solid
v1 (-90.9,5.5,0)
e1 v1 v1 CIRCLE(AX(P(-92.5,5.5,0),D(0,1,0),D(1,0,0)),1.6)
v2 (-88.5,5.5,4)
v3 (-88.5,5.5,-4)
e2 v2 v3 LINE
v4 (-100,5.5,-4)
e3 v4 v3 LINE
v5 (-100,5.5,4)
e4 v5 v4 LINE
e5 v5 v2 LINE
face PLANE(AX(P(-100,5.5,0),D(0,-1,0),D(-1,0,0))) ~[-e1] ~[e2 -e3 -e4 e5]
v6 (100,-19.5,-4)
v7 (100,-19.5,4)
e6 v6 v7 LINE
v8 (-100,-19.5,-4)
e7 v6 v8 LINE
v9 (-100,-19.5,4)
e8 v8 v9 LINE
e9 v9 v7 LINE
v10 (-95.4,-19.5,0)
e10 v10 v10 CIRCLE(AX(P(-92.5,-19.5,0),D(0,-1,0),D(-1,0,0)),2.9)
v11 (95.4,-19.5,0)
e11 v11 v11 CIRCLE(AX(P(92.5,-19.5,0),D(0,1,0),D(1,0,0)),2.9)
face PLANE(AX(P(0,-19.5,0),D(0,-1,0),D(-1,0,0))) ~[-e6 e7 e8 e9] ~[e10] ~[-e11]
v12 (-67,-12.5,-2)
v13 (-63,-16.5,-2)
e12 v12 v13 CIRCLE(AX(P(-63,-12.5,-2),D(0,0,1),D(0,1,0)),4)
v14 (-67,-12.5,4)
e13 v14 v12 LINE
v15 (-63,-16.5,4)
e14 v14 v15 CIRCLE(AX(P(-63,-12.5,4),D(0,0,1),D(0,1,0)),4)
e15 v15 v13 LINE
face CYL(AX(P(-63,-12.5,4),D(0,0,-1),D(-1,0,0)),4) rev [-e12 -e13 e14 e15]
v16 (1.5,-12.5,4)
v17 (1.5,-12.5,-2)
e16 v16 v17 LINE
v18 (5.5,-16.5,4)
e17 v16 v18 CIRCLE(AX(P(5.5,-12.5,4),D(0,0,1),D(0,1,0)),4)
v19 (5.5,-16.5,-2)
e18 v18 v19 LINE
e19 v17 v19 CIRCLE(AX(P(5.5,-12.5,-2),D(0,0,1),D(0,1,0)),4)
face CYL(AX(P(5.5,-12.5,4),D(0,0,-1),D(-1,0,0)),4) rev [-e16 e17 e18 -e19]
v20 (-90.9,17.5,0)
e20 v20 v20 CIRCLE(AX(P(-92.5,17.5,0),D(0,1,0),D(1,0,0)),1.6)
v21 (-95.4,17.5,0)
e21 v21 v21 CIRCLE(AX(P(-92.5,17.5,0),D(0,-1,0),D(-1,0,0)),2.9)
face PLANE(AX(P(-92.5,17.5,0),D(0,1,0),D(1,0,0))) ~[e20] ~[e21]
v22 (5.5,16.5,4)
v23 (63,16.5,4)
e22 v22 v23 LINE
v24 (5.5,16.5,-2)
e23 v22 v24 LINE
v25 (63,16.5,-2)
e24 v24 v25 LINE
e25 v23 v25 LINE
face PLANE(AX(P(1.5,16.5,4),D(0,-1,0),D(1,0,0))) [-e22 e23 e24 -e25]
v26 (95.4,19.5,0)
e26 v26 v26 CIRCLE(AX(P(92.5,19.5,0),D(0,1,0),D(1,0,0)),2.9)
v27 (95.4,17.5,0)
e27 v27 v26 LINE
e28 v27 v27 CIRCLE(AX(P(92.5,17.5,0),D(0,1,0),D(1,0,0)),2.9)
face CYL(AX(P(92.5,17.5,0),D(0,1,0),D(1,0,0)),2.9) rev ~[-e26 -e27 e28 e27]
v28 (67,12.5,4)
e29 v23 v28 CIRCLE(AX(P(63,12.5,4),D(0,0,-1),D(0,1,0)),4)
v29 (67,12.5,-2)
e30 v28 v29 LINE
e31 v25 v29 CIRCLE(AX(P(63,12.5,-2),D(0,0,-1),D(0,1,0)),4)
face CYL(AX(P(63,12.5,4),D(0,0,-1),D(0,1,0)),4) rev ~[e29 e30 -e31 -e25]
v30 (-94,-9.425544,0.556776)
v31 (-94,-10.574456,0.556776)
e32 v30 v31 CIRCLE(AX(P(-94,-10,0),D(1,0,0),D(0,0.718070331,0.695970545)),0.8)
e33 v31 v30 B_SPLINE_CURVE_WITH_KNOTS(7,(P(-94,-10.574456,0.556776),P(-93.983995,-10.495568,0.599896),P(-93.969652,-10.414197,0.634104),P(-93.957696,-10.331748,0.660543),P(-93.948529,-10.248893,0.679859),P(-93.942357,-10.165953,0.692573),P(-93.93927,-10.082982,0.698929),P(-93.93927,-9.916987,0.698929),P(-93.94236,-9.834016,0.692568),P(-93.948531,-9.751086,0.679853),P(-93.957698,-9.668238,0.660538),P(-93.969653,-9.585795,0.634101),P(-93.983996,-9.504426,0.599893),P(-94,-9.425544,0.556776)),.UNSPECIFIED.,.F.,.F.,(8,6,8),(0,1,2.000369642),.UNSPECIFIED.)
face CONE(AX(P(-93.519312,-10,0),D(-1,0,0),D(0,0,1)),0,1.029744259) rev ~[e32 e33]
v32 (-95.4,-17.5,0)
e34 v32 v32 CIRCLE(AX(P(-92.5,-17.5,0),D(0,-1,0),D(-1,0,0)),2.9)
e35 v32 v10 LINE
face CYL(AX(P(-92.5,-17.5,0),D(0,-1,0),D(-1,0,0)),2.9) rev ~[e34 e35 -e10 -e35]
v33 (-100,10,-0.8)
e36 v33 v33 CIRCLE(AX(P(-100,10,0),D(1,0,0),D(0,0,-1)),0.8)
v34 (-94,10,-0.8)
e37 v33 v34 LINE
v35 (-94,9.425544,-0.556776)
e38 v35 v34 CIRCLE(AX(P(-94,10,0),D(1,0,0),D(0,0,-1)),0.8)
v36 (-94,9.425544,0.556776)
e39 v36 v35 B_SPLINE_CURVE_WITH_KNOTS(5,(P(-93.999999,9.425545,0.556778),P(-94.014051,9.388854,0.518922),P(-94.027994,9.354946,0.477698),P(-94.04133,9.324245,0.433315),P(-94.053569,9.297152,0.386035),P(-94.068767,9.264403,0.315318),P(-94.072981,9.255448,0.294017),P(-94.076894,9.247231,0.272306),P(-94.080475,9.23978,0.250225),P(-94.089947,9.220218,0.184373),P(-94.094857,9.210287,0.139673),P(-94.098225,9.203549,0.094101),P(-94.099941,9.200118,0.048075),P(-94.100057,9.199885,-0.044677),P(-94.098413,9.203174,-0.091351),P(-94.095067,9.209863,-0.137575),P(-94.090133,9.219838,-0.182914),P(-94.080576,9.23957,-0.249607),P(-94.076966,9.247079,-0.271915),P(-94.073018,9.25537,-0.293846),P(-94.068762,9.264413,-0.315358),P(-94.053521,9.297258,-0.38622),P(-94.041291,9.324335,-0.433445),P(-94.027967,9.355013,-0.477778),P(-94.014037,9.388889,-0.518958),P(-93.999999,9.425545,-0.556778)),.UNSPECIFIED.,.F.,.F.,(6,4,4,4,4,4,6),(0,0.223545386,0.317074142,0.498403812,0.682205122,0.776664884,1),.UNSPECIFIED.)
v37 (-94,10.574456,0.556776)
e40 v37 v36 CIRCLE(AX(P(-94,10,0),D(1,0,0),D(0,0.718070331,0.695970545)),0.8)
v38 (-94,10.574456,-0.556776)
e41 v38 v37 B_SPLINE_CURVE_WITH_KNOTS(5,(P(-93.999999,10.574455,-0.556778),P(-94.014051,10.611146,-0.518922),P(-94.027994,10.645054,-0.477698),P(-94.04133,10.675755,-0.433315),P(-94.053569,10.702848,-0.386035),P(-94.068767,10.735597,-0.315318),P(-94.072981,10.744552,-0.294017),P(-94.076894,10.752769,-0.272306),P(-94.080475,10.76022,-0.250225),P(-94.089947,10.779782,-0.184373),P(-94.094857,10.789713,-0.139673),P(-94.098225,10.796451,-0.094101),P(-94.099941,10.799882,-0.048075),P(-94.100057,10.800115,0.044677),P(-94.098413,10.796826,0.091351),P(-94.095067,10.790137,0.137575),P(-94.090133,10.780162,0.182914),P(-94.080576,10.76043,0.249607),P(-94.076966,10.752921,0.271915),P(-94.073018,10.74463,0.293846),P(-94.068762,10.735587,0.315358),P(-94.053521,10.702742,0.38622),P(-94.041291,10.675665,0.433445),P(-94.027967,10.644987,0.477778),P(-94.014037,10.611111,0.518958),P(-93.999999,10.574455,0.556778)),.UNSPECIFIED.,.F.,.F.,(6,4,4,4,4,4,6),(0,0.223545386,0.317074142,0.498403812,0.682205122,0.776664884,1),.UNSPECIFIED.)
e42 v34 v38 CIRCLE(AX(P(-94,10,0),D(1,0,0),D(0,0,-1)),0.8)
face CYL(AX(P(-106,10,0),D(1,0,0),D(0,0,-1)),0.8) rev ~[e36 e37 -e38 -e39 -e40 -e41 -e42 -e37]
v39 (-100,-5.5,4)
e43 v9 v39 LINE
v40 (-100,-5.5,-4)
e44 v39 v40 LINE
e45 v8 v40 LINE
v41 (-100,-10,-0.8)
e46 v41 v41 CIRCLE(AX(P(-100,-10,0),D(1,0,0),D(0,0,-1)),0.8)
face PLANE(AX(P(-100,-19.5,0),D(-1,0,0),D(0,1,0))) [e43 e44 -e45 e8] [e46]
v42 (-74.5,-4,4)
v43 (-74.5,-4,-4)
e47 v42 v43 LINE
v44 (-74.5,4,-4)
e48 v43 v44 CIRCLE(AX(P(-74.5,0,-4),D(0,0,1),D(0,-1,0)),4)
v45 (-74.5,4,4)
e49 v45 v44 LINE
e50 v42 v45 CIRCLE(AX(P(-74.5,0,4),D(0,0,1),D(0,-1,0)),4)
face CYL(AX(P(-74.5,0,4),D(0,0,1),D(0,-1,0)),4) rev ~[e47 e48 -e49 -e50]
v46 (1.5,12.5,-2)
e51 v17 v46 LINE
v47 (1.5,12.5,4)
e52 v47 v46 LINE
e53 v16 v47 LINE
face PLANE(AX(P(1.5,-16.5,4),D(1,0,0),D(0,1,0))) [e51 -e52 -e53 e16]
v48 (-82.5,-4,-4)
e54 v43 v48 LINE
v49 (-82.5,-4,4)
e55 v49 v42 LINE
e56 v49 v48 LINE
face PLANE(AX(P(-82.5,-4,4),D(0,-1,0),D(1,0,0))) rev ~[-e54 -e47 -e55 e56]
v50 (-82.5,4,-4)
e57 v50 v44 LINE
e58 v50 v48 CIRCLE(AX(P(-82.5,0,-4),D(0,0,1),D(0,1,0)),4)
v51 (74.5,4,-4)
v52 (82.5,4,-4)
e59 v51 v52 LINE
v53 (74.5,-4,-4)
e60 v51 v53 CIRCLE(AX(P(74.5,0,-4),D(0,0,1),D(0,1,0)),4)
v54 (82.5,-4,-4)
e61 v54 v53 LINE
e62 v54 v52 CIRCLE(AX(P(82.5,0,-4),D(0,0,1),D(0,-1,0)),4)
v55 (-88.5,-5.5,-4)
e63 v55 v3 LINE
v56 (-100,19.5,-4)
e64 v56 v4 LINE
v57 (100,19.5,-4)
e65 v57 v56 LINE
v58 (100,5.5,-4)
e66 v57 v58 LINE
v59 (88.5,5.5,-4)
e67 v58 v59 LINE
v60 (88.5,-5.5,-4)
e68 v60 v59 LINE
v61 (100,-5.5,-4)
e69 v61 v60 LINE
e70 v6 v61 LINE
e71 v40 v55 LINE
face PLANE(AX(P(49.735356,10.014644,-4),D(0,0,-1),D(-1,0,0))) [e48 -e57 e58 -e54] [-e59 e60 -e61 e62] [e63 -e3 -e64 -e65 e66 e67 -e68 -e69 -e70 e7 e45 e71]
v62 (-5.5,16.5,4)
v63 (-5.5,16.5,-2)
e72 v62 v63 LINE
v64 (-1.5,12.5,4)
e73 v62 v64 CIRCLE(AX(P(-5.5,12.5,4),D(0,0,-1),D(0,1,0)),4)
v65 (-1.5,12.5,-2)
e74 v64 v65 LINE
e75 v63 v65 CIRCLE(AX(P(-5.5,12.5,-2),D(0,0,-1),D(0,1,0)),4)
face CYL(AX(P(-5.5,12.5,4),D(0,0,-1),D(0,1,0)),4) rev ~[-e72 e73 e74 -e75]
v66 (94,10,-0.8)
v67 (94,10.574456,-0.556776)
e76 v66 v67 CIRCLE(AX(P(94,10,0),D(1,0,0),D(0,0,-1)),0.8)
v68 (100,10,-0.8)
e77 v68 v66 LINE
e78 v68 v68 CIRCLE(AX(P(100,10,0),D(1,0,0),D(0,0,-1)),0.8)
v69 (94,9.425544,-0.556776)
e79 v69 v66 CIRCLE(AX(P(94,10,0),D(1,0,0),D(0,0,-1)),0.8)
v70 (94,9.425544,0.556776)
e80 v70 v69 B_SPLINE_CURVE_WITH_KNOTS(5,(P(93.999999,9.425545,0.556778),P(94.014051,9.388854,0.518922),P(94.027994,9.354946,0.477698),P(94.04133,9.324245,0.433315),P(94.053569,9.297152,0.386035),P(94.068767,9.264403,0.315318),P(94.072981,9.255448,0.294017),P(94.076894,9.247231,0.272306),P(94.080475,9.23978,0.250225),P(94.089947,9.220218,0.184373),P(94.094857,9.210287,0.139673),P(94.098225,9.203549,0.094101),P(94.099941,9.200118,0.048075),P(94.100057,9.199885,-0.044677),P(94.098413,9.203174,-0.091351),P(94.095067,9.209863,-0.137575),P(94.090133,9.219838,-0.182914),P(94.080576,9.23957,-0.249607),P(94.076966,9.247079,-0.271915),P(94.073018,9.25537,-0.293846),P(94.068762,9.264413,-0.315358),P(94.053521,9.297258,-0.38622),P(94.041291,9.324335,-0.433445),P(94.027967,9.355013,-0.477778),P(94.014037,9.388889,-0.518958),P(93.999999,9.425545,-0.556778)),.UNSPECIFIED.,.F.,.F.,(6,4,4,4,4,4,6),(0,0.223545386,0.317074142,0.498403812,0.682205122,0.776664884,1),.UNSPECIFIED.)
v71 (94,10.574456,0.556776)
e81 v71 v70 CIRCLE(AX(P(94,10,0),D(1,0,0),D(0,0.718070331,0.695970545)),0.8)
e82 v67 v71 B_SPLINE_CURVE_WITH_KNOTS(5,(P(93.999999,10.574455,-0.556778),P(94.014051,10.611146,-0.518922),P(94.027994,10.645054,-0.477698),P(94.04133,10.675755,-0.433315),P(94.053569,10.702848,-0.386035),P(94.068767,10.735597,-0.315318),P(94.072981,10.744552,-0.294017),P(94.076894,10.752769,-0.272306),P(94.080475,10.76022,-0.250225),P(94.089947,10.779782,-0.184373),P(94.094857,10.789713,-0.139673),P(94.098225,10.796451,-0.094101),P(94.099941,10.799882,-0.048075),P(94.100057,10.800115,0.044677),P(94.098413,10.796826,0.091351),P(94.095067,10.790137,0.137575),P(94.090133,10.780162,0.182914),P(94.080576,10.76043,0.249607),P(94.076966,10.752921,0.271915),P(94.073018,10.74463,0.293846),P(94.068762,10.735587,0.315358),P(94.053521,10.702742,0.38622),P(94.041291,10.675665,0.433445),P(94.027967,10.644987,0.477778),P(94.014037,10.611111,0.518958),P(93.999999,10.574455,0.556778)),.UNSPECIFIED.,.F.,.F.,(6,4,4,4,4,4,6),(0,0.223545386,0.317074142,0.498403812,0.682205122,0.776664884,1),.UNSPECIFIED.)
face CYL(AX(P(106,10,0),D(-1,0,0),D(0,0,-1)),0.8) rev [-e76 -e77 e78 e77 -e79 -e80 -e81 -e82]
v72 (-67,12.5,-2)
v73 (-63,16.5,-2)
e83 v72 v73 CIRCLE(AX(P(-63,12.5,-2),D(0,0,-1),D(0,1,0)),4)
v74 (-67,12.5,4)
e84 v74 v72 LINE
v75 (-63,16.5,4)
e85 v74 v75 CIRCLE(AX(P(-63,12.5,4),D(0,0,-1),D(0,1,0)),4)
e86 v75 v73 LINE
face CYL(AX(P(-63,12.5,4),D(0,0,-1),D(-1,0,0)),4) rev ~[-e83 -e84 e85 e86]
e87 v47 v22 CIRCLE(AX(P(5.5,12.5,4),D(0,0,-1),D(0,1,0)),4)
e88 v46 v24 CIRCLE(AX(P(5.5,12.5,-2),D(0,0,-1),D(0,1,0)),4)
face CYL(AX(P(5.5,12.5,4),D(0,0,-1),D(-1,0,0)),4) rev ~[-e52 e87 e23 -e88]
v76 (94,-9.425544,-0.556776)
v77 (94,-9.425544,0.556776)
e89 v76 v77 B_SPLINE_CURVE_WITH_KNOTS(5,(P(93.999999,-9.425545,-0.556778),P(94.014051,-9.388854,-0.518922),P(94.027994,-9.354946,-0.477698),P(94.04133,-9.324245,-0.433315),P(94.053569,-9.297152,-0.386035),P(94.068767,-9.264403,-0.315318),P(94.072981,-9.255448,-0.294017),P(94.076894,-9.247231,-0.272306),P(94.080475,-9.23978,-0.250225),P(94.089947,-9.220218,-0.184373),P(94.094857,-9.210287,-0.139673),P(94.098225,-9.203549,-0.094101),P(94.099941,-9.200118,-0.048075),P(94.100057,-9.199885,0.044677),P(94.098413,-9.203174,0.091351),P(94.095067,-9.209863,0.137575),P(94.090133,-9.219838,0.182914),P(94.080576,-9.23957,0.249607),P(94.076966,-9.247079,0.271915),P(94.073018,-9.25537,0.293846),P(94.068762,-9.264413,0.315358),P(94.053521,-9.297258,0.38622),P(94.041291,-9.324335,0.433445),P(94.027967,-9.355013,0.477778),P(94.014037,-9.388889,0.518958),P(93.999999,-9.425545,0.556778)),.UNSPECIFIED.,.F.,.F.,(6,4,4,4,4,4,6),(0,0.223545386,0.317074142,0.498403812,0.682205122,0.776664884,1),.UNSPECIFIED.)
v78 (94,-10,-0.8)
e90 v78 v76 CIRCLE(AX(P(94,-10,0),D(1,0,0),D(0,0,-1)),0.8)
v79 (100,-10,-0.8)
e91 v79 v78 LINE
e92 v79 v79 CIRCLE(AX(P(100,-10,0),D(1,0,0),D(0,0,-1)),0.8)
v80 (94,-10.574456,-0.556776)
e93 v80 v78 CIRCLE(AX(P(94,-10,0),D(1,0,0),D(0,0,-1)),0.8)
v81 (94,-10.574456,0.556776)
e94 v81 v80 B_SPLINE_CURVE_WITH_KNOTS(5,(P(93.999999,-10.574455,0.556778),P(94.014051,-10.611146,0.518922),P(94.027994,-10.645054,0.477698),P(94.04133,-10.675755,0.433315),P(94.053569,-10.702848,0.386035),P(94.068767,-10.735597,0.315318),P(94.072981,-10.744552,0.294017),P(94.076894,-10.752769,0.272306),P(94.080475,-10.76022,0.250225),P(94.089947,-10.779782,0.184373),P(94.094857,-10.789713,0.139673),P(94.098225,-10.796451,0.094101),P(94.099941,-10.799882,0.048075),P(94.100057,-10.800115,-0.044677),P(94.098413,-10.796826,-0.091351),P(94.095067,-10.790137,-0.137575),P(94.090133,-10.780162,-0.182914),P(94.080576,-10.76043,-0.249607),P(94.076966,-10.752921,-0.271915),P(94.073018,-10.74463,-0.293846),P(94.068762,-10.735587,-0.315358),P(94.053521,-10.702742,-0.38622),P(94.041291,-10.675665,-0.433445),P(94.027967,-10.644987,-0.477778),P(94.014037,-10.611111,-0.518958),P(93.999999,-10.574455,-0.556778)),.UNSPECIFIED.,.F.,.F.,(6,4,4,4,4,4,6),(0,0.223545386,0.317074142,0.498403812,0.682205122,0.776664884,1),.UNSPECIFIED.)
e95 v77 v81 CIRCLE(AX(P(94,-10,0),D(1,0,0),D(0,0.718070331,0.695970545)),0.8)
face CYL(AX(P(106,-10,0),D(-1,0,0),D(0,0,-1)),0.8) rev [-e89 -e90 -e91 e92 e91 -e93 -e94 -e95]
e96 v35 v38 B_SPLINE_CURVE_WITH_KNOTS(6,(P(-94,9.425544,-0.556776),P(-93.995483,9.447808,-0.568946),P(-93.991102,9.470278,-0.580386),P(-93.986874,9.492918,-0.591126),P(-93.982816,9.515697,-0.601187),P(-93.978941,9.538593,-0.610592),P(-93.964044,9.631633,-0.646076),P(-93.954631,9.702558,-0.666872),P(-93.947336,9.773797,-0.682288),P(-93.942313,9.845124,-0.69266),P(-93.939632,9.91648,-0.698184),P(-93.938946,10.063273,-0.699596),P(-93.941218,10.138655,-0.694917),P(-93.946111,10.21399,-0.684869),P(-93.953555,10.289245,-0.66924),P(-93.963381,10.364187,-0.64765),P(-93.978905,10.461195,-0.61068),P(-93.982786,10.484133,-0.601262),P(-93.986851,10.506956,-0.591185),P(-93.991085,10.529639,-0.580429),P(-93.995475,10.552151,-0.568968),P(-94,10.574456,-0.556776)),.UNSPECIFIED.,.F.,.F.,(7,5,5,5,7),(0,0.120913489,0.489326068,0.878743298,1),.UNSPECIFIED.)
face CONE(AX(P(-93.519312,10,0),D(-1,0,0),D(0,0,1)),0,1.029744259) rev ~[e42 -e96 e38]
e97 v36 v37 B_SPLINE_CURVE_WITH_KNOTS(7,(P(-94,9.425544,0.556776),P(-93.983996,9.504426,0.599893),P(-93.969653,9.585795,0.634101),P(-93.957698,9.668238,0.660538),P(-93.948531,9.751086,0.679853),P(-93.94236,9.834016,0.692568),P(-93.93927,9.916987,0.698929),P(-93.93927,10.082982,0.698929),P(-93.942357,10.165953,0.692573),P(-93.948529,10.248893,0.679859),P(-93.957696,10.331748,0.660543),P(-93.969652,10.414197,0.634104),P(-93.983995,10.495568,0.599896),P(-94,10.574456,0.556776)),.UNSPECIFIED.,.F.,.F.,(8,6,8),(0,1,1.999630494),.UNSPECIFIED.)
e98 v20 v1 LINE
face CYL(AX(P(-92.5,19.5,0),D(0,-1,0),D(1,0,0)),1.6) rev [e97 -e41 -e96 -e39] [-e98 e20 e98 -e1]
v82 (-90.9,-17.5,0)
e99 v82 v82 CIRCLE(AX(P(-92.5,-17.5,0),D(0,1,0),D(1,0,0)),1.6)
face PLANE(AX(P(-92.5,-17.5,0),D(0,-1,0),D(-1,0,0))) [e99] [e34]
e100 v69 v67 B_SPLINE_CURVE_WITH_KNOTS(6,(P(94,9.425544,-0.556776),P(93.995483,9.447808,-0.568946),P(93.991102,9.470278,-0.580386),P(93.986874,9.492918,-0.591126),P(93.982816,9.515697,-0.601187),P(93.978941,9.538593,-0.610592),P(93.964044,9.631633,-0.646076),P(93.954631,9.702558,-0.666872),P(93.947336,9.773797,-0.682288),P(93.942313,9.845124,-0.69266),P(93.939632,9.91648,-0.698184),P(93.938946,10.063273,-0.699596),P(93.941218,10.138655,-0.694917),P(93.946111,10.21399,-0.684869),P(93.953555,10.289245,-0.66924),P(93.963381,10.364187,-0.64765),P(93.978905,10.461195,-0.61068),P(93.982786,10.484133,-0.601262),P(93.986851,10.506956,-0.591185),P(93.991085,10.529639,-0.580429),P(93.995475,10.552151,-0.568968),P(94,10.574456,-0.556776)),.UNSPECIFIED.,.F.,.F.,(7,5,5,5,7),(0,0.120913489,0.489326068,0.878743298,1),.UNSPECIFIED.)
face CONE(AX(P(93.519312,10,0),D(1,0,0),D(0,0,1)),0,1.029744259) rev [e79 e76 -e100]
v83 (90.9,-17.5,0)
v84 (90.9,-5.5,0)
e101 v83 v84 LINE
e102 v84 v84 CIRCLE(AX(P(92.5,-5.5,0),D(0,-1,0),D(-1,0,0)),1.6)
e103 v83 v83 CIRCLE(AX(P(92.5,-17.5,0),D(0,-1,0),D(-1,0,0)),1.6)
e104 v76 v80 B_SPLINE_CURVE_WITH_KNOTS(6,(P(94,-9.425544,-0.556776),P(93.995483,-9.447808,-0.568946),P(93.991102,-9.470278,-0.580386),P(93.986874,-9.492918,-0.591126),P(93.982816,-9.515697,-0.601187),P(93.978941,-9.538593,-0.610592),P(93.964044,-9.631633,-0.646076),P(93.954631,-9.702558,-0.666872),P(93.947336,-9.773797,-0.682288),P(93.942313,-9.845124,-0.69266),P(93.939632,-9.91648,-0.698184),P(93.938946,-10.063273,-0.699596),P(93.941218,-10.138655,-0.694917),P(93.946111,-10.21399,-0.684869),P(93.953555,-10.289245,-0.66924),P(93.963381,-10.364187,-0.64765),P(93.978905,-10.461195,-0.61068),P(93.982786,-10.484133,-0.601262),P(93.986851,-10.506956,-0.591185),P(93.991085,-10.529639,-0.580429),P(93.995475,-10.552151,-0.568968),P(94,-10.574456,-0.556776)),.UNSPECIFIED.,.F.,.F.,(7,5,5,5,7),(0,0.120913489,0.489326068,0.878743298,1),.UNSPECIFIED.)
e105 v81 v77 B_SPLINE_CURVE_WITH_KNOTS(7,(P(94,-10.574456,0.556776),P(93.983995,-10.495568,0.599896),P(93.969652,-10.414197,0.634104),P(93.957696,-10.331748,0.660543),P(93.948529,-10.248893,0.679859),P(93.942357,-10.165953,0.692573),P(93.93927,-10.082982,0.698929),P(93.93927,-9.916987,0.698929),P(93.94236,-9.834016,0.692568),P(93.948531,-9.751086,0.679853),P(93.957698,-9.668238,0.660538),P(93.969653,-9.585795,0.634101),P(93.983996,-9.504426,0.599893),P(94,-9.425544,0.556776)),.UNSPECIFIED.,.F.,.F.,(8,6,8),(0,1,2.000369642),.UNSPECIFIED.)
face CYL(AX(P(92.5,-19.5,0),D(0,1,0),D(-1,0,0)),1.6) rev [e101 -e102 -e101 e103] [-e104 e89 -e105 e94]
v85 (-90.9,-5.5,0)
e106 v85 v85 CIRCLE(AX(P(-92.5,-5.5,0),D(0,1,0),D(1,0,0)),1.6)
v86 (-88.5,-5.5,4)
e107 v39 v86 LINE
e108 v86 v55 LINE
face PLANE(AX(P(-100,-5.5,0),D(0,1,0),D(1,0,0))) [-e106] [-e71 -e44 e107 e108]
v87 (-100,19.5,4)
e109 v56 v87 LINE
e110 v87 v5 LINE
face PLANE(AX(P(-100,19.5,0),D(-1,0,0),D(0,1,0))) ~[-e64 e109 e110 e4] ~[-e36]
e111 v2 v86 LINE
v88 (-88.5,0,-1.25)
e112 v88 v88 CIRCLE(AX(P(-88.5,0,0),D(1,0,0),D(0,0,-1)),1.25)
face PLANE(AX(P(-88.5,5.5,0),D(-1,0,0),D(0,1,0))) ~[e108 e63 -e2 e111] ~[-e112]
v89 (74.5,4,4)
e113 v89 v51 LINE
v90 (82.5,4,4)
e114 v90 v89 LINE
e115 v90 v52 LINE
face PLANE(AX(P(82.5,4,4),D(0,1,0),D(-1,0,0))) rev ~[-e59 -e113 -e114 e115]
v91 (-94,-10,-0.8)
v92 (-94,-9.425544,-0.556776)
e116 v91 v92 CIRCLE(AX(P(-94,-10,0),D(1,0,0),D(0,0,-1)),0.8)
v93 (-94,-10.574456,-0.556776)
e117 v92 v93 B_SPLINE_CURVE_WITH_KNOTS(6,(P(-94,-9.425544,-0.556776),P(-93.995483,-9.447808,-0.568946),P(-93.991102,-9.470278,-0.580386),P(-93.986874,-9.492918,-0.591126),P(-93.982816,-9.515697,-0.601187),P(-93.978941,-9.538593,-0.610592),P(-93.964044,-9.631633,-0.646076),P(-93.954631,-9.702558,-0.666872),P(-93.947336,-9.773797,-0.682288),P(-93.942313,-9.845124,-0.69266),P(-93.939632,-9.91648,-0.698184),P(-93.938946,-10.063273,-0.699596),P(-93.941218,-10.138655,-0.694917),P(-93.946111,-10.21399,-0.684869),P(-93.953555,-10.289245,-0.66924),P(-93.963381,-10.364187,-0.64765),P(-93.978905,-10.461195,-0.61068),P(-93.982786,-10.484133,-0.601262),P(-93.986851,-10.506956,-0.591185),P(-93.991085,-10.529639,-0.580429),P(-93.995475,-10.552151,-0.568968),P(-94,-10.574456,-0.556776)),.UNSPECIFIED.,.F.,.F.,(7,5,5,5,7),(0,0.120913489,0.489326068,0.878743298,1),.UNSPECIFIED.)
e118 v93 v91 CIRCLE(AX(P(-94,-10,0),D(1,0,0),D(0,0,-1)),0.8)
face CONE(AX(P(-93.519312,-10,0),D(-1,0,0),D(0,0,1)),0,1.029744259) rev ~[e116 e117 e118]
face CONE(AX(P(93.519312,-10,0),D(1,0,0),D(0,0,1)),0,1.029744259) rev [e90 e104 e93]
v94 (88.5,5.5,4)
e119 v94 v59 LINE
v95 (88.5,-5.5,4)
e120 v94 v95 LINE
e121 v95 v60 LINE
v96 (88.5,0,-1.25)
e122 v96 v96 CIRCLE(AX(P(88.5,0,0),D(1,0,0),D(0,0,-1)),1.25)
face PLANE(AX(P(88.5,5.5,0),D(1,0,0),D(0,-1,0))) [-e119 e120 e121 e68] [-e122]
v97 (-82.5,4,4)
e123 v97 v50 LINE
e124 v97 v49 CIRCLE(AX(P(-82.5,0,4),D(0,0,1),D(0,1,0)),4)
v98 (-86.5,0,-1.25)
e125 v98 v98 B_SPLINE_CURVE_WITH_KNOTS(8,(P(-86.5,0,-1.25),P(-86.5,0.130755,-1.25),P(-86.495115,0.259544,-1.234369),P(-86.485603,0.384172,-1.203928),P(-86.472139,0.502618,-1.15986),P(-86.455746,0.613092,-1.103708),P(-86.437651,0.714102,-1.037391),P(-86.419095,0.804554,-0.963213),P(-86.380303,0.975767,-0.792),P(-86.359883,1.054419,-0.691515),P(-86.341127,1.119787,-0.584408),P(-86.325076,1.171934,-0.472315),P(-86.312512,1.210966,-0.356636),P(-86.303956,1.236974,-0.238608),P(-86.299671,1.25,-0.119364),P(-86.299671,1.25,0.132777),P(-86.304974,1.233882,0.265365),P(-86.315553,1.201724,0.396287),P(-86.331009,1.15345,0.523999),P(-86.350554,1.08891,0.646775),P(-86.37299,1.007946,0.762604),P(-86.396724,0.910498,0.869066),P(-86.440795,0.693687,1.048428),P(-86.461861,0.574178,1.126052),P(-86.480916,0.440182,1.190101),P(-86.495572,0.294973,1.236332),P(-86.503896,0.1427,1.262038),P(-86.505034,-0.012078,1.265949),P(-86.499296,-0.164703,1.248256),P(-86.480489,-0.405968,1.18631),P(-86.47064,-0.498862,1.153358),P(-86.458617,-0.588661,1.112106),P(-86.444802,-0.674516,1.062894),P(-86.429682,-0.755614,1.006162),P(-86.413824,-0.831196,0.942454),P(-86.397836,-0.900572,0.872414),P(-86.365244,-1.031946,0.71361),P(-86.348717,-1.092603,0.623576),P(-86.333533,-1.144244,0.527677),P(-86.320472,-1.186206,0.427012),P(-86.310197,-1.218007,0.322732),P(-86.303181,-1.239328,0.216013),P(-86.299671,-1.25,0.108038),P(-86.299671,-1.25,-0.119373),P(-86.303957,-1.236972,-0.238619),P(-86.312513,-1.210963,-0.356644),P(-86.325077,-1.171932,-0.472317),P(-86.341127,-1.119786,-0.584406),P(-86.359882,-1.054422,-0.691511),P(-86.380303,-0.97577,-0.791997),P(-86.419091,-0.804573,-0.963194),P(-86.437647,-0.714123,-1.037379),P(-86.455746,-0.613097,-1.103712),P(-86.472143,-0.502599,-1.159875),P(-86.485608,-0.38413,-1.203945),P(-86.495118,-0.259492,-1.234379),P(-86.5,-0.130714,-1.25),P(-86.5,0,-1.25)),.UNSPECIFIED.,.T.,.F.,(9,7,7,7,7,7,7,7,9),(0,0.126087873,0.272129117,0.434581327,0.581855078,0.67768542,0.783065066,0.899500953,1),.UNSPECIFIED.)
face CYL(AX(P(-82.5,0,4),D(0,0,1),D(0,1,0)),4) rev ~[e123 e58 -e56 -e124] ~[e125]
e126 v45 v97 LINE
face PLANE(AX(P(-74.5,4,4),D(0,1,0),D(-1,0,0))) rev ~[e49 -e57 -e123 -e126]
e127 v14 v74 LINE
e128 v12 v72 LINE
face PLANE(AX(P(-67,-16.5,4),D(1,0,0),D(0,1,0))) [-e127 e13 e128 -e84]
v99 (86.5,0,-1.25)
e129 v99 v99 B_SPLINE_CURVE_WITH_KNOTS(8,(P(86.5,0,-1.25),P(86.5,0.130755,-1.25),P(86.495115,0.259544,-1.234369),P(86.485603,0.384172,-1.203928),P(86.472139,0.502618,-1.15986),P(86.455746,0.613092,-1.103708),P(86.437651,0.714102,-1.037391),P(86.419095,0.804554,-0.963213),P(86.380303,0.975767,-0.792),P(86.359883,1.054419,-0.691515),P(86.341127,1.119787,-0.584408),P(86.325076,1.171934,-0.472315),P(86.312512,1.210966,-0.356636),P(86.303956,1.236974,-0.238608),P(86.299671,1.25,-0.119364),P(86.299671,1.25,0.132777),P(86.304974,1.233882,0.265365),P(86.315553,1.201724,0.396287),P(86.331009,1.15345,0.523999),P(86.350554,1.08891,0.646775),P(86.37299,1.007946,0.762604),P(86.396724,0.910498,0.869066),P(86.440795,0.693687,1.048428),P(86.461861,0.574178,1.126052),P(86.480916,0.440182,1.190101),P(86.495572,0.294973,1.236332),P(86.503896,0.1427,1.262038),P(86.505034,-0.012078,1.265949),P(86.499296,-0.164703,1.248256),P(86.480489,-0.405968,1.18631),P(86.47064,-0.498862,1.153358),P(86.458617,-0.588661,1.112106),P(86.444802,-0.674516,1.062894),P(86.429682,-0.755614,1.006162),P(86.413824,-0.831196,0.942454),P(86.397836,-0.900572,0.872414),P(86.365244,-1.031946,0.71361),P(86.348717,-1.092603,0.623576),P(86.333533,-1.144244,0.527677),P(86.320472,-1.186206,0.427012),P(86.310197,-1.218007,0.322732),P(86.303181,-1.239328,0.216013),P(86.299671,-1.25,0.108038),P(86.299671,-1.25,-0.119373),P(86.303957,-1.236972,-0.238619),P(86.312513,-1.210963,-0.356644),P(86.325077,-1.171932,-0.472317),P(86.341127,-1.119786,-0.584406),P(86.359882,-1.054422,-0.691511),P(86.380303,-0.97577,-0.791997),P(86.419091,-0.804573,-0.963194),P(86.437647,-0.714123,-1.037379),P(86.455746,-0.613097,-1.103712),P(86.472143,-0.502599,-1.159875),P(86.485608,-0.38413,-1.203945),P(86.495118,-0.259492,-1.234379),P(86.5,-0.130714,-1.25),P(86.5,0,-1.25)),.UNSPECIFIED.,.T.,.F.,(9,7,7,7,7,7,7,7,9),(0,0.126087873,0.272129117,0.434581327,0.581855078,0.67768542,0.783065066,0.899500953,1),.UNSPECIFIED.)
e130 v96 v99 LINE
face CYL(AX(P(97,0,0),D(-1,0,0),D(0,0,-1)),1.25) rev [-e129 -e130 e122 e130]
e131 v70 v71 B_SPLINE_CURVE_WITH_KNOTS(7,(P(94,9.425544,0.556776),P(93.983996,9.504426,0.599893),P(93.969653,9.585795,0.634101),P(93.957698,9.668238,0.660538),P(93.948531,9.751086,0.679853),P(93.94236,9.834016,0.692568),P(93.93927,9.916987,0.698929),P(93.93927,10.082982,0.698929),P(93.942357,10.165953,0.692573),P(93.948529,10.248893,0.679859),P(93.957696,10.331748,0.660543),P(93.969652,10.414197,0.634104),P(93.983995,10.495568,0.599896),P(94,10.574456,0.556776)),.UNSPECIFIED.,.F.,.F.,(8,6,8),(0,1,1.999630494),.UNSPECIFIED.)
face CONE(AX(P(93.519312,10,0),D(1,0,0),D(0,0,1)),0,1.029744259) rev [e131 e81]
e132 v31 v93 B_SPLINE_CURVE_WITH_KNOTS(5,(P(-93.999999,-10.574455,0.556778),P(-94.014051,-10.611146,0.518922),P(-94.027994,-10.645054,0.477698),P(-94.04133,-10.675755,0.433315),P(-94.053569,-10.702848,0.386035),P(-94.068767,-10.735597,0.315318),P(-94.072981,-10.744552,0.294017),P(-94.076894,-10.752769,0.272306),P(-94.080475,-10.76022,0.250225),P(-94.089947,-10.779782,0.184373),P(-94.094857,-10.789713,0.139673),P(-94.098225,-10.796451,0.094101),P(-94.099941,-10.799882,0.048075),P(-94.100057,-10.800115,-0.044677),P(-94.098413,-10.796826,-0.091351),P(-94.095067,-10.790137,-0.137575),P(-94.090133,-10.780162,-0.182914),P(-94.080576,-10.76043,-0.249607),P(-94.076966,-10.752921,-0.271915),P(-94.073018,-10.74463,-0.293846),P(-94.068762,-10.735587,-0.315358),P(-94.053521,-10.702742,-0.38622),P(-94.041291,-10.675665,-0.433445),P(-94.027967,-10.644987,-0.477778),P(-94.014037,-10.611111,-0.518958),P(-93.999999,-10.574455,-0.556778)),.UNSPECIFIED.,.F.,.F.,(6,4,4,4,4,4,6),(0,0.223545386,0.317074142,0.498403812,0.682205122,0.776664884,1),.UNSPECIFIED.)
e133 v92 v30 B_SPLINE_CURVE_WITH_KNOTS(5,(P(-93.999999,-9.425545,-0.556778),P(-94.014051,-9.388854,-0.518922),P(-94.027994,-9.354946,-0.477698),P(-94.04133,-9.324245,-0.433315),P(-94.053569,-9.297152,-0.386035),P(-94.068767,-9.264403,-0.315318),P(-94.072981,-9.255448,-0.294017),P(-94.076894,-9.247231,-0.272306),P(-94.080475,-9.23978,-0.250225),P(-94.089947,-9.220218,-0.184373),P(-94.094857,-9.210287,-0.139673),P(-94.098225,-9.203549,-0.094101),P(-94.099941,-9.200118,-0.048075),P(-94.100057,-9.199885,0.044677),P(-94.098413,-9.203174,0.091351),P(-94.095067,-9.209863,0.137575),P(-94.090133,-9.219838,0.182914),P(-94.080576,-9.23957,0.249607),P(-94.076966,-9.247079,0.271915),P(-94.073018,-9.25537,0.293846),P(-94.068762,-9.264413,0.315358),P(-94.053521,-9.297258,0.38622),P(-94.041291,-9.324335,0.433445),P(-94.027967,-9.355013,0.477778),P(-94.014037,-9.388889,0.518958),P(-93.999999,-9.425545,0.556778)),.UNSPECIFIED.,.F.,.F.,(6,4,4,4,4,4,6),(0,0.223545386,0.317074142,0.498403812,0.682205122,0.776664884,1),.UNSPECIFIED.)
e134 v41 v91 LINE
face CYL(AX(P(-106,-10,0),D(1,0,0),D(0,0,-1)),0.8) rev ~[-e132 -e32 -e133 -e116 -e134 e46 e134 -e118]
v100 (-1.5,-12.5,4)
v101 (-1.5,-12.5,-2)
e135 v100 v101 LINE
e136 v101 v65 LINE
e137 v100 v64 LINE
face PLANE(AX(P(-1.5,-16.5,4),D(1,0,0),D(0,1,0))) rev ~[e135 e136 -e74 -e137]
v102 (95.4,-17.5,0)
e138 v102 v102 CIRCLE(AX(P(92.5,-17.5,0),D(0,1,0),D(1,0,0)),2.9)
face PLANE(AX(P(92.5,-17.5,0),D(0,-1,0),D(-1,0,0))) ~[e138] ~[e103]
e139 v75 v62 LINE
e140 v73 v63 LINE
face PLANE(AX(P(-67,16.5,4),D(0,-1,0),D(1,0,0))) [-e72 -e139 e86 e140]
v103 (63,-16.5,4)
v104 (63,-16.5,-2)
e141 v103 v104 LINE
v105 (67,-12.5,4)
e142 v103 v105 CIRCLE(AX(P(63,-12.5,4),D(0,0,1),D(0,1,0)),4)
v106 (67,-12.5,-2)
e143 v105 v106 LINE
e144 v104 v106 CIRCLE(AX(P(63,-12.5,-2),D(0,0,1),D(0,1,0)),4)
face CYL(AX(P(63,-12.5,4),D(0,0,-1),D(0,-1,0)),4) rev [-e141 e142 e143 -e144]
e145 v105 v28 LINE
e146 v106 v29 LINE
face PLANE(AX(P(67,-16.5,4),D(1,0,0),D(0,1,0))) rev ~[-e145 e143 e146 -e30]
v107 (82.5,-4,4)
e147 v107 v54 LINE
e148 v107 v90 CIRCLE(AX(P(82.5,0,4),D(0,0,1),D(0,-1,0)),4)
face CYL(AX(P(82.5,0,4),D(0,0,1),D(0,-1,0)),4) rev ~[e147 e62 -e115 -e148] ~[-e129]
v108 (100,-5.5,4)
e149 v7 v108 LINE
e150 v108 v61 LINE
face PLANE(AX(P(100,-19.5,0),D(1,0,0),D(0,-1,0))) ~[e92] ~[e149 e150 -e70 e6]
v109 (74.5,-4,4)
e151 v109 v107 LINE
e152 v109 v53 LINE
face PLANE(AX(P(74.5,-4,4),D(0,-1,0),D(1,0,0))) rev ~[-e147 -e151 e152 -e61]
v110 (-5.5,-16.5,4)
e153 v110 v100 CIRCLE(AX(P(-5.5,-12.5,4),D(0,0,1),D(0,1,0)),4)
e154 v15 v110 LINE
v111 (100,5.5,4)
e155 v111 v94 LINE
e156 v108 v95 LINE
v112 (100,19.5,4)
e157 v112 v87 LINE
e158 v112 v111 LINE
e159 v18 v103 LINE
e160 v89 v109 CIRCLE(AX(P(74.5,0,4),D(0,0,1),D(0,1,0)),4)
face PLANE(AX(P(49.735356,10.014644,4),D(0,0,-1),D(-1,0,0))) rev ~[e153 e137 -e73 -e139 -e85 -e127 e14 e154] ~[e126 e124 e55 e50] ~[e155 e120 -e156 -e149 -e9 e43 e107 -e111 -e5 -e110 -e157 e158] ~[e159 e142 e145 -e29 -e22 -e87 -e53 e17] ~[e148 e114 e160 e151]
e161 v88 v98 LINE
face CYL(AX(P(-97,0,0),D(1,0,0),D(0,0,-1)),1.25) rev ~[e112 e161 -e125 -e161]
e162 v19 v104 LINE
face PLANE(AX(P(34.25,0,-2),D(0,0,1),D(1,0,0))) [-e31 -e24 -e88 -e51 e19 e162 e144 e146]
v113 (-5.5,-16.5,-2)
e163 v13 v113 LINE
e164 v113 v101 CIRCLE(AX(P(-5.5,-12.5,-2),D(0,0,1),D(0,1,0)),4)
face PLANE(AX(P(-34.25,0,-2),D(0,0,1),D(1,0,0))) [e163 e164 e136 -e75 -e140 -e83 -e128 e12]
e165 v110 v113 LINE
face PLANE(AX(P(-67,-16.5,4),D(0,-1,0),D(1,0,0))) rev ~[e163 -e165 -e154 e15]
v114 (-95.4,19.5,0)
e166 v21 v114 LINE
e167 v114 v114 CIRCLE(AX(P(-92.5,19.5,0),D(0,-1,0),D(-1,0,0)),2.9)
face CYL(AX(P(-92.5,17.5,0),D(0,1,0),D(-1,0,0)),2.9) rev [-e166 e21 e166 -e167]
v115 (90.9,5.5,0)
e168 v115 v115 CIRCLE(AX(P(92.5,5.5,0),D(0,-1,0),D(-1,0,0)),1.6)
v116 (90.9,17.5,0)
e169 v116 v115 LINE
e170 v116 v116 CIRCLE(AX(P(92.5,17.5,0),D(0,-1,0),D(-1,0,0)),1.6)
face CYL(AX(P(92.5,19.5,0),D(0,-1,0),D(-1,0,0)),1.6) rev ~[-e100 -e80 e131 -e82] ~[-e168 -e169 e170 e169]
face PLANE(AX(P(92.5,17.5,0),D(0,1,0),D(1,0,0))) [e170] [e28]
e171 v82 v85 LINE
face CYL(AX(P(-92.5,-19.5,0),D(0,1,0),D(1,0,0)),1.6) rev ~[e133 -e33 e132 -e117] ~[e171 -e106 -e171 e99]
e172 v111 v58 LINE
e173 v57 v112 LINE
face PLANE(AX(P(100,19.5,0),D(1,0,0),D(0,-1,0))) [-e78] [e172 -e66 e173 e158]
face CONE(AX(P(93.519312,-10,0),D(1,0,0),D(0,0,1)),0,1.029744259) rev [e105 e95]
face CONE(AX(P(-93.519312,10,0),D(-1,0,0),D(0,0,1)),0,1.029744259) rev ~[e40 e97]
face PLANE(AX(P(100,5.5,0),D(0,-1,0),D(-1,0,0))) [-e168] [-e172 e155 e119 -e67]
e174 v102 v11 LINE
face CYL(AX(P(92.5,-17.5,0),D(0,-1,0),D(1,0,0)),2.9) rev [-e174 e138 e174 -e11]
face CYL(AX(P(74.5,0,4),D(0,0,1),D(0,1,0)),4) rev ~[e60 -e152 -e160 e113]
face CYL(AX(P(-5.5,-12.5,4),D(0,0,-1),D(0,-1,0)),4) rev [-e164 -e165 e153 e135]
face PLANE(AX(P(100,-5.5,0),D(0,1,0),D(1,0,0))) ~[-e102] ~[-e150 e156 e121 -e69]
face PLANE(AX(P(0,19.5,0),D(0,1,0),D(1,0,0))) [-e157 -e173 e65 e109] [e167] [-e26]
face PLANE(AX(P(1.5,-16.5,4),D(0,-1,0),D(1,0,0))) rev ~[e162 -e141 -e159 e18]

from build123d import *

# Parameters (mm, degrees)
AUFSATZ_LINEAR_AUSTRAGEN1_DEPTH                      = 4
STIRNSENKUNG_F_R_M3_ZYLINDERSCHRAUBE_MIT_D           = 3.2
STIRNSENKUNG_F_R_M3_ZYLINDERSCHRAUBE_MIT_CBORE_D     = 5.8
STIRNSENKUNG_F_R_M3_ZYLINDERSCHRAUBE_MIT_CBORE_DEPTH = 2
M3_GEWINDEBOHRUNG1_D                                 = 2.5
M3_GEWINDEBOHRUNG1_DEPTH                             = 8.5
M3_GEWINDEBOHRUNG1_TIP                               = 0.751075774
M2_GEWINDEBOHRUNG1_D                                 = 1.6
M2_GEWINDEBOHRUNG1_DEPTH                             = 6
M2_GEWINDEBOHRUNG1_TIP                               = 0.480688495
SKIZZE3_W                                            = 65.5
SKIZZE3_H                                            = 33
SCHNITT_LINEAR_AUSTRAGEN1_DEPTH                      = 6
SCHNITT_LINEAR_AUSTRAGEN2_DEPTH                      = 9
VERRUNDUNG1_R                                        = 4


with BuildPart() as part:
    # Skizze2 → Aufsatz-Linear austragen1 (new body, symmetric)
    with BuildSketch(Plane(origin=(0, 0, 0), x_dir=(1, 0, 0), z_dir=(0, 0, -1))):
        Polygon((-100, 19.5), (-100, 5.5), (-88.5, 5.5), (-88.5, 0), (0, 0), (0, 19.5), align=None)
    extrude(amount=AUFSATZ_LINEAR_AUSTRAGEN1_DEPTH, both=True)

    # Stirnsenkung für  M3 Zylinderschraube mit Schlitz/Kreuzschlitz1 (through all)
    with Locations(Plane(origin=(0, -19.5, 0), x_dir=(-1, 0, 0), z_dir=(0, -1, 0))):
        with Locations((92.5, 0)):
            CounterBoreHole(STIRNSENKUNG_F_R_M3_ZYLINDERSCHRAUBE_MIT_D / 2, STIRNSENKUNG_F_R_M3_ZYLINDERSCHRAUBE_MIT_CBORE_D / 2, STIRNSENKUNG_F_R_M3_ZYLINDERSCHRAUBE_MIT_CBORE_DEPTH)

    # Spiegeln2: part across plane


with BuildPart() as part_1:
    add(part.part)
    add(part.part.mirror(Plane.ZX))

    # M3 Gewindebohrung1
    with Locations(Plane.ZY.offset(88.5)):
        with Locations((0, 0)):
            Hole(M3_GEWINDEBOHRUNG1_D / 2, depth=M3_GEWINDEBOHRUNG1_DEPTH)
            with Locations((0, 0, -(M3_GEWINDEBOHRUNG1_DEPTH + M3_GEWINDEBOHRUNG1_TIP / 2))):  # 118° drill point
                Cone(0, M3_GEWINDEBOHRUNG1_D / 2, M3_GEWINDEBOHRUNG1_TIP, mode=Mode.SUBTRACT)

    # M2 Gewindebohrung1
    with Locations(Plane.ZY.offset(100)):
        with Locations((0, 10), (0, -10)):
            Hole(M2_GEWINDEBOHRUNG1_D / 2, depth=M2_GEWINDEBOHRUNG1_DEPTH)
            with Locations((0, 0, -(M2_GEWINDEBOHRUNG1_DEPTH + M2_GEWINDEBOHRUNG1_TIP / 2))):  # 118° drill point
                Cone(0, M2_GEWINDEBOHRUNG1_D / 2, M2_GEWINDEBOHRUNG1_TIP, mode=Mode.SUBTRACT)

    # Spiegeln3: part across plane


with BuildPart() as part_2:
    add(part_1.part)
    add(part_1.part.mirror(Plane(origin=(0, 0, 0), x_dir=(0, 0, 1), z_dir=(1, 0, 0))))

    # Skizze3 → Schnitt-Linear austragen1 (cut)
    with BuildSketch(Plane.XY.offset(4)):
        with Locations((-34.25, 0)):
            Rectangle(SKIZZE3_W, SKIZZE3_H)
        with Locations((34.25, 0)):
            Rectangle(SKIZZE3_W, SKIZZE3_H)
    extrude(amount=-SCHNITT_LINEAR_AUSTRAGEN1_DEPTH, mode=Mode.SUBTRACT)

    # Skizze3<3> → Schnitt-Linear austragen2 (cut, through all)
    with BuildSketch(Plane.XY.offset(4)):
        with BuildLine():
            Line((-82.5, -4), (-74.5, -4))
            ThreePointArc((-74.5, -4), (-70.5, 0), (-74.5, 4))
            Line((-74.5, 4), (-82.5, 4))
            ThreePointArc((-82.5, 4), (-86.5, 0), (-82.5, -4))
        make_face()
        with BuildLine():
            Line((74.5, -4), (82.5, -4))
            ThreePointArc((82.5, -4), (86.5, 0), (82.5, 4))
            Line((82.5, 4), (74.5, 4))
            ThreePointArc((74.5, 4), (70.5, 0), (74.5, -4))
        make_face()
    extrude(amount=-SCHNITT_LINEAR_AUSTRAGEN2_DEPTH, mode=Mode.SUBTRACT)

    # Verrundung1
    verrundung1_edges = [part_2.edges().sort_by_distance(p)[0] for p in [
        (-67, 16.5, 1),
        (-67, -16.5, 1),
        (-1.5, -16.5, 1),
        (-1.5, 16.5, 1),
        (1.5, 16.5, 1),
        (1.5, -16.5, 1),
        (67, -16.5, 1),
        (67, 16.5, 1),
    ]]
    fillet(verrundung1_edges, radius=VERRUNDUNG1_R)


solid = part_2.part
